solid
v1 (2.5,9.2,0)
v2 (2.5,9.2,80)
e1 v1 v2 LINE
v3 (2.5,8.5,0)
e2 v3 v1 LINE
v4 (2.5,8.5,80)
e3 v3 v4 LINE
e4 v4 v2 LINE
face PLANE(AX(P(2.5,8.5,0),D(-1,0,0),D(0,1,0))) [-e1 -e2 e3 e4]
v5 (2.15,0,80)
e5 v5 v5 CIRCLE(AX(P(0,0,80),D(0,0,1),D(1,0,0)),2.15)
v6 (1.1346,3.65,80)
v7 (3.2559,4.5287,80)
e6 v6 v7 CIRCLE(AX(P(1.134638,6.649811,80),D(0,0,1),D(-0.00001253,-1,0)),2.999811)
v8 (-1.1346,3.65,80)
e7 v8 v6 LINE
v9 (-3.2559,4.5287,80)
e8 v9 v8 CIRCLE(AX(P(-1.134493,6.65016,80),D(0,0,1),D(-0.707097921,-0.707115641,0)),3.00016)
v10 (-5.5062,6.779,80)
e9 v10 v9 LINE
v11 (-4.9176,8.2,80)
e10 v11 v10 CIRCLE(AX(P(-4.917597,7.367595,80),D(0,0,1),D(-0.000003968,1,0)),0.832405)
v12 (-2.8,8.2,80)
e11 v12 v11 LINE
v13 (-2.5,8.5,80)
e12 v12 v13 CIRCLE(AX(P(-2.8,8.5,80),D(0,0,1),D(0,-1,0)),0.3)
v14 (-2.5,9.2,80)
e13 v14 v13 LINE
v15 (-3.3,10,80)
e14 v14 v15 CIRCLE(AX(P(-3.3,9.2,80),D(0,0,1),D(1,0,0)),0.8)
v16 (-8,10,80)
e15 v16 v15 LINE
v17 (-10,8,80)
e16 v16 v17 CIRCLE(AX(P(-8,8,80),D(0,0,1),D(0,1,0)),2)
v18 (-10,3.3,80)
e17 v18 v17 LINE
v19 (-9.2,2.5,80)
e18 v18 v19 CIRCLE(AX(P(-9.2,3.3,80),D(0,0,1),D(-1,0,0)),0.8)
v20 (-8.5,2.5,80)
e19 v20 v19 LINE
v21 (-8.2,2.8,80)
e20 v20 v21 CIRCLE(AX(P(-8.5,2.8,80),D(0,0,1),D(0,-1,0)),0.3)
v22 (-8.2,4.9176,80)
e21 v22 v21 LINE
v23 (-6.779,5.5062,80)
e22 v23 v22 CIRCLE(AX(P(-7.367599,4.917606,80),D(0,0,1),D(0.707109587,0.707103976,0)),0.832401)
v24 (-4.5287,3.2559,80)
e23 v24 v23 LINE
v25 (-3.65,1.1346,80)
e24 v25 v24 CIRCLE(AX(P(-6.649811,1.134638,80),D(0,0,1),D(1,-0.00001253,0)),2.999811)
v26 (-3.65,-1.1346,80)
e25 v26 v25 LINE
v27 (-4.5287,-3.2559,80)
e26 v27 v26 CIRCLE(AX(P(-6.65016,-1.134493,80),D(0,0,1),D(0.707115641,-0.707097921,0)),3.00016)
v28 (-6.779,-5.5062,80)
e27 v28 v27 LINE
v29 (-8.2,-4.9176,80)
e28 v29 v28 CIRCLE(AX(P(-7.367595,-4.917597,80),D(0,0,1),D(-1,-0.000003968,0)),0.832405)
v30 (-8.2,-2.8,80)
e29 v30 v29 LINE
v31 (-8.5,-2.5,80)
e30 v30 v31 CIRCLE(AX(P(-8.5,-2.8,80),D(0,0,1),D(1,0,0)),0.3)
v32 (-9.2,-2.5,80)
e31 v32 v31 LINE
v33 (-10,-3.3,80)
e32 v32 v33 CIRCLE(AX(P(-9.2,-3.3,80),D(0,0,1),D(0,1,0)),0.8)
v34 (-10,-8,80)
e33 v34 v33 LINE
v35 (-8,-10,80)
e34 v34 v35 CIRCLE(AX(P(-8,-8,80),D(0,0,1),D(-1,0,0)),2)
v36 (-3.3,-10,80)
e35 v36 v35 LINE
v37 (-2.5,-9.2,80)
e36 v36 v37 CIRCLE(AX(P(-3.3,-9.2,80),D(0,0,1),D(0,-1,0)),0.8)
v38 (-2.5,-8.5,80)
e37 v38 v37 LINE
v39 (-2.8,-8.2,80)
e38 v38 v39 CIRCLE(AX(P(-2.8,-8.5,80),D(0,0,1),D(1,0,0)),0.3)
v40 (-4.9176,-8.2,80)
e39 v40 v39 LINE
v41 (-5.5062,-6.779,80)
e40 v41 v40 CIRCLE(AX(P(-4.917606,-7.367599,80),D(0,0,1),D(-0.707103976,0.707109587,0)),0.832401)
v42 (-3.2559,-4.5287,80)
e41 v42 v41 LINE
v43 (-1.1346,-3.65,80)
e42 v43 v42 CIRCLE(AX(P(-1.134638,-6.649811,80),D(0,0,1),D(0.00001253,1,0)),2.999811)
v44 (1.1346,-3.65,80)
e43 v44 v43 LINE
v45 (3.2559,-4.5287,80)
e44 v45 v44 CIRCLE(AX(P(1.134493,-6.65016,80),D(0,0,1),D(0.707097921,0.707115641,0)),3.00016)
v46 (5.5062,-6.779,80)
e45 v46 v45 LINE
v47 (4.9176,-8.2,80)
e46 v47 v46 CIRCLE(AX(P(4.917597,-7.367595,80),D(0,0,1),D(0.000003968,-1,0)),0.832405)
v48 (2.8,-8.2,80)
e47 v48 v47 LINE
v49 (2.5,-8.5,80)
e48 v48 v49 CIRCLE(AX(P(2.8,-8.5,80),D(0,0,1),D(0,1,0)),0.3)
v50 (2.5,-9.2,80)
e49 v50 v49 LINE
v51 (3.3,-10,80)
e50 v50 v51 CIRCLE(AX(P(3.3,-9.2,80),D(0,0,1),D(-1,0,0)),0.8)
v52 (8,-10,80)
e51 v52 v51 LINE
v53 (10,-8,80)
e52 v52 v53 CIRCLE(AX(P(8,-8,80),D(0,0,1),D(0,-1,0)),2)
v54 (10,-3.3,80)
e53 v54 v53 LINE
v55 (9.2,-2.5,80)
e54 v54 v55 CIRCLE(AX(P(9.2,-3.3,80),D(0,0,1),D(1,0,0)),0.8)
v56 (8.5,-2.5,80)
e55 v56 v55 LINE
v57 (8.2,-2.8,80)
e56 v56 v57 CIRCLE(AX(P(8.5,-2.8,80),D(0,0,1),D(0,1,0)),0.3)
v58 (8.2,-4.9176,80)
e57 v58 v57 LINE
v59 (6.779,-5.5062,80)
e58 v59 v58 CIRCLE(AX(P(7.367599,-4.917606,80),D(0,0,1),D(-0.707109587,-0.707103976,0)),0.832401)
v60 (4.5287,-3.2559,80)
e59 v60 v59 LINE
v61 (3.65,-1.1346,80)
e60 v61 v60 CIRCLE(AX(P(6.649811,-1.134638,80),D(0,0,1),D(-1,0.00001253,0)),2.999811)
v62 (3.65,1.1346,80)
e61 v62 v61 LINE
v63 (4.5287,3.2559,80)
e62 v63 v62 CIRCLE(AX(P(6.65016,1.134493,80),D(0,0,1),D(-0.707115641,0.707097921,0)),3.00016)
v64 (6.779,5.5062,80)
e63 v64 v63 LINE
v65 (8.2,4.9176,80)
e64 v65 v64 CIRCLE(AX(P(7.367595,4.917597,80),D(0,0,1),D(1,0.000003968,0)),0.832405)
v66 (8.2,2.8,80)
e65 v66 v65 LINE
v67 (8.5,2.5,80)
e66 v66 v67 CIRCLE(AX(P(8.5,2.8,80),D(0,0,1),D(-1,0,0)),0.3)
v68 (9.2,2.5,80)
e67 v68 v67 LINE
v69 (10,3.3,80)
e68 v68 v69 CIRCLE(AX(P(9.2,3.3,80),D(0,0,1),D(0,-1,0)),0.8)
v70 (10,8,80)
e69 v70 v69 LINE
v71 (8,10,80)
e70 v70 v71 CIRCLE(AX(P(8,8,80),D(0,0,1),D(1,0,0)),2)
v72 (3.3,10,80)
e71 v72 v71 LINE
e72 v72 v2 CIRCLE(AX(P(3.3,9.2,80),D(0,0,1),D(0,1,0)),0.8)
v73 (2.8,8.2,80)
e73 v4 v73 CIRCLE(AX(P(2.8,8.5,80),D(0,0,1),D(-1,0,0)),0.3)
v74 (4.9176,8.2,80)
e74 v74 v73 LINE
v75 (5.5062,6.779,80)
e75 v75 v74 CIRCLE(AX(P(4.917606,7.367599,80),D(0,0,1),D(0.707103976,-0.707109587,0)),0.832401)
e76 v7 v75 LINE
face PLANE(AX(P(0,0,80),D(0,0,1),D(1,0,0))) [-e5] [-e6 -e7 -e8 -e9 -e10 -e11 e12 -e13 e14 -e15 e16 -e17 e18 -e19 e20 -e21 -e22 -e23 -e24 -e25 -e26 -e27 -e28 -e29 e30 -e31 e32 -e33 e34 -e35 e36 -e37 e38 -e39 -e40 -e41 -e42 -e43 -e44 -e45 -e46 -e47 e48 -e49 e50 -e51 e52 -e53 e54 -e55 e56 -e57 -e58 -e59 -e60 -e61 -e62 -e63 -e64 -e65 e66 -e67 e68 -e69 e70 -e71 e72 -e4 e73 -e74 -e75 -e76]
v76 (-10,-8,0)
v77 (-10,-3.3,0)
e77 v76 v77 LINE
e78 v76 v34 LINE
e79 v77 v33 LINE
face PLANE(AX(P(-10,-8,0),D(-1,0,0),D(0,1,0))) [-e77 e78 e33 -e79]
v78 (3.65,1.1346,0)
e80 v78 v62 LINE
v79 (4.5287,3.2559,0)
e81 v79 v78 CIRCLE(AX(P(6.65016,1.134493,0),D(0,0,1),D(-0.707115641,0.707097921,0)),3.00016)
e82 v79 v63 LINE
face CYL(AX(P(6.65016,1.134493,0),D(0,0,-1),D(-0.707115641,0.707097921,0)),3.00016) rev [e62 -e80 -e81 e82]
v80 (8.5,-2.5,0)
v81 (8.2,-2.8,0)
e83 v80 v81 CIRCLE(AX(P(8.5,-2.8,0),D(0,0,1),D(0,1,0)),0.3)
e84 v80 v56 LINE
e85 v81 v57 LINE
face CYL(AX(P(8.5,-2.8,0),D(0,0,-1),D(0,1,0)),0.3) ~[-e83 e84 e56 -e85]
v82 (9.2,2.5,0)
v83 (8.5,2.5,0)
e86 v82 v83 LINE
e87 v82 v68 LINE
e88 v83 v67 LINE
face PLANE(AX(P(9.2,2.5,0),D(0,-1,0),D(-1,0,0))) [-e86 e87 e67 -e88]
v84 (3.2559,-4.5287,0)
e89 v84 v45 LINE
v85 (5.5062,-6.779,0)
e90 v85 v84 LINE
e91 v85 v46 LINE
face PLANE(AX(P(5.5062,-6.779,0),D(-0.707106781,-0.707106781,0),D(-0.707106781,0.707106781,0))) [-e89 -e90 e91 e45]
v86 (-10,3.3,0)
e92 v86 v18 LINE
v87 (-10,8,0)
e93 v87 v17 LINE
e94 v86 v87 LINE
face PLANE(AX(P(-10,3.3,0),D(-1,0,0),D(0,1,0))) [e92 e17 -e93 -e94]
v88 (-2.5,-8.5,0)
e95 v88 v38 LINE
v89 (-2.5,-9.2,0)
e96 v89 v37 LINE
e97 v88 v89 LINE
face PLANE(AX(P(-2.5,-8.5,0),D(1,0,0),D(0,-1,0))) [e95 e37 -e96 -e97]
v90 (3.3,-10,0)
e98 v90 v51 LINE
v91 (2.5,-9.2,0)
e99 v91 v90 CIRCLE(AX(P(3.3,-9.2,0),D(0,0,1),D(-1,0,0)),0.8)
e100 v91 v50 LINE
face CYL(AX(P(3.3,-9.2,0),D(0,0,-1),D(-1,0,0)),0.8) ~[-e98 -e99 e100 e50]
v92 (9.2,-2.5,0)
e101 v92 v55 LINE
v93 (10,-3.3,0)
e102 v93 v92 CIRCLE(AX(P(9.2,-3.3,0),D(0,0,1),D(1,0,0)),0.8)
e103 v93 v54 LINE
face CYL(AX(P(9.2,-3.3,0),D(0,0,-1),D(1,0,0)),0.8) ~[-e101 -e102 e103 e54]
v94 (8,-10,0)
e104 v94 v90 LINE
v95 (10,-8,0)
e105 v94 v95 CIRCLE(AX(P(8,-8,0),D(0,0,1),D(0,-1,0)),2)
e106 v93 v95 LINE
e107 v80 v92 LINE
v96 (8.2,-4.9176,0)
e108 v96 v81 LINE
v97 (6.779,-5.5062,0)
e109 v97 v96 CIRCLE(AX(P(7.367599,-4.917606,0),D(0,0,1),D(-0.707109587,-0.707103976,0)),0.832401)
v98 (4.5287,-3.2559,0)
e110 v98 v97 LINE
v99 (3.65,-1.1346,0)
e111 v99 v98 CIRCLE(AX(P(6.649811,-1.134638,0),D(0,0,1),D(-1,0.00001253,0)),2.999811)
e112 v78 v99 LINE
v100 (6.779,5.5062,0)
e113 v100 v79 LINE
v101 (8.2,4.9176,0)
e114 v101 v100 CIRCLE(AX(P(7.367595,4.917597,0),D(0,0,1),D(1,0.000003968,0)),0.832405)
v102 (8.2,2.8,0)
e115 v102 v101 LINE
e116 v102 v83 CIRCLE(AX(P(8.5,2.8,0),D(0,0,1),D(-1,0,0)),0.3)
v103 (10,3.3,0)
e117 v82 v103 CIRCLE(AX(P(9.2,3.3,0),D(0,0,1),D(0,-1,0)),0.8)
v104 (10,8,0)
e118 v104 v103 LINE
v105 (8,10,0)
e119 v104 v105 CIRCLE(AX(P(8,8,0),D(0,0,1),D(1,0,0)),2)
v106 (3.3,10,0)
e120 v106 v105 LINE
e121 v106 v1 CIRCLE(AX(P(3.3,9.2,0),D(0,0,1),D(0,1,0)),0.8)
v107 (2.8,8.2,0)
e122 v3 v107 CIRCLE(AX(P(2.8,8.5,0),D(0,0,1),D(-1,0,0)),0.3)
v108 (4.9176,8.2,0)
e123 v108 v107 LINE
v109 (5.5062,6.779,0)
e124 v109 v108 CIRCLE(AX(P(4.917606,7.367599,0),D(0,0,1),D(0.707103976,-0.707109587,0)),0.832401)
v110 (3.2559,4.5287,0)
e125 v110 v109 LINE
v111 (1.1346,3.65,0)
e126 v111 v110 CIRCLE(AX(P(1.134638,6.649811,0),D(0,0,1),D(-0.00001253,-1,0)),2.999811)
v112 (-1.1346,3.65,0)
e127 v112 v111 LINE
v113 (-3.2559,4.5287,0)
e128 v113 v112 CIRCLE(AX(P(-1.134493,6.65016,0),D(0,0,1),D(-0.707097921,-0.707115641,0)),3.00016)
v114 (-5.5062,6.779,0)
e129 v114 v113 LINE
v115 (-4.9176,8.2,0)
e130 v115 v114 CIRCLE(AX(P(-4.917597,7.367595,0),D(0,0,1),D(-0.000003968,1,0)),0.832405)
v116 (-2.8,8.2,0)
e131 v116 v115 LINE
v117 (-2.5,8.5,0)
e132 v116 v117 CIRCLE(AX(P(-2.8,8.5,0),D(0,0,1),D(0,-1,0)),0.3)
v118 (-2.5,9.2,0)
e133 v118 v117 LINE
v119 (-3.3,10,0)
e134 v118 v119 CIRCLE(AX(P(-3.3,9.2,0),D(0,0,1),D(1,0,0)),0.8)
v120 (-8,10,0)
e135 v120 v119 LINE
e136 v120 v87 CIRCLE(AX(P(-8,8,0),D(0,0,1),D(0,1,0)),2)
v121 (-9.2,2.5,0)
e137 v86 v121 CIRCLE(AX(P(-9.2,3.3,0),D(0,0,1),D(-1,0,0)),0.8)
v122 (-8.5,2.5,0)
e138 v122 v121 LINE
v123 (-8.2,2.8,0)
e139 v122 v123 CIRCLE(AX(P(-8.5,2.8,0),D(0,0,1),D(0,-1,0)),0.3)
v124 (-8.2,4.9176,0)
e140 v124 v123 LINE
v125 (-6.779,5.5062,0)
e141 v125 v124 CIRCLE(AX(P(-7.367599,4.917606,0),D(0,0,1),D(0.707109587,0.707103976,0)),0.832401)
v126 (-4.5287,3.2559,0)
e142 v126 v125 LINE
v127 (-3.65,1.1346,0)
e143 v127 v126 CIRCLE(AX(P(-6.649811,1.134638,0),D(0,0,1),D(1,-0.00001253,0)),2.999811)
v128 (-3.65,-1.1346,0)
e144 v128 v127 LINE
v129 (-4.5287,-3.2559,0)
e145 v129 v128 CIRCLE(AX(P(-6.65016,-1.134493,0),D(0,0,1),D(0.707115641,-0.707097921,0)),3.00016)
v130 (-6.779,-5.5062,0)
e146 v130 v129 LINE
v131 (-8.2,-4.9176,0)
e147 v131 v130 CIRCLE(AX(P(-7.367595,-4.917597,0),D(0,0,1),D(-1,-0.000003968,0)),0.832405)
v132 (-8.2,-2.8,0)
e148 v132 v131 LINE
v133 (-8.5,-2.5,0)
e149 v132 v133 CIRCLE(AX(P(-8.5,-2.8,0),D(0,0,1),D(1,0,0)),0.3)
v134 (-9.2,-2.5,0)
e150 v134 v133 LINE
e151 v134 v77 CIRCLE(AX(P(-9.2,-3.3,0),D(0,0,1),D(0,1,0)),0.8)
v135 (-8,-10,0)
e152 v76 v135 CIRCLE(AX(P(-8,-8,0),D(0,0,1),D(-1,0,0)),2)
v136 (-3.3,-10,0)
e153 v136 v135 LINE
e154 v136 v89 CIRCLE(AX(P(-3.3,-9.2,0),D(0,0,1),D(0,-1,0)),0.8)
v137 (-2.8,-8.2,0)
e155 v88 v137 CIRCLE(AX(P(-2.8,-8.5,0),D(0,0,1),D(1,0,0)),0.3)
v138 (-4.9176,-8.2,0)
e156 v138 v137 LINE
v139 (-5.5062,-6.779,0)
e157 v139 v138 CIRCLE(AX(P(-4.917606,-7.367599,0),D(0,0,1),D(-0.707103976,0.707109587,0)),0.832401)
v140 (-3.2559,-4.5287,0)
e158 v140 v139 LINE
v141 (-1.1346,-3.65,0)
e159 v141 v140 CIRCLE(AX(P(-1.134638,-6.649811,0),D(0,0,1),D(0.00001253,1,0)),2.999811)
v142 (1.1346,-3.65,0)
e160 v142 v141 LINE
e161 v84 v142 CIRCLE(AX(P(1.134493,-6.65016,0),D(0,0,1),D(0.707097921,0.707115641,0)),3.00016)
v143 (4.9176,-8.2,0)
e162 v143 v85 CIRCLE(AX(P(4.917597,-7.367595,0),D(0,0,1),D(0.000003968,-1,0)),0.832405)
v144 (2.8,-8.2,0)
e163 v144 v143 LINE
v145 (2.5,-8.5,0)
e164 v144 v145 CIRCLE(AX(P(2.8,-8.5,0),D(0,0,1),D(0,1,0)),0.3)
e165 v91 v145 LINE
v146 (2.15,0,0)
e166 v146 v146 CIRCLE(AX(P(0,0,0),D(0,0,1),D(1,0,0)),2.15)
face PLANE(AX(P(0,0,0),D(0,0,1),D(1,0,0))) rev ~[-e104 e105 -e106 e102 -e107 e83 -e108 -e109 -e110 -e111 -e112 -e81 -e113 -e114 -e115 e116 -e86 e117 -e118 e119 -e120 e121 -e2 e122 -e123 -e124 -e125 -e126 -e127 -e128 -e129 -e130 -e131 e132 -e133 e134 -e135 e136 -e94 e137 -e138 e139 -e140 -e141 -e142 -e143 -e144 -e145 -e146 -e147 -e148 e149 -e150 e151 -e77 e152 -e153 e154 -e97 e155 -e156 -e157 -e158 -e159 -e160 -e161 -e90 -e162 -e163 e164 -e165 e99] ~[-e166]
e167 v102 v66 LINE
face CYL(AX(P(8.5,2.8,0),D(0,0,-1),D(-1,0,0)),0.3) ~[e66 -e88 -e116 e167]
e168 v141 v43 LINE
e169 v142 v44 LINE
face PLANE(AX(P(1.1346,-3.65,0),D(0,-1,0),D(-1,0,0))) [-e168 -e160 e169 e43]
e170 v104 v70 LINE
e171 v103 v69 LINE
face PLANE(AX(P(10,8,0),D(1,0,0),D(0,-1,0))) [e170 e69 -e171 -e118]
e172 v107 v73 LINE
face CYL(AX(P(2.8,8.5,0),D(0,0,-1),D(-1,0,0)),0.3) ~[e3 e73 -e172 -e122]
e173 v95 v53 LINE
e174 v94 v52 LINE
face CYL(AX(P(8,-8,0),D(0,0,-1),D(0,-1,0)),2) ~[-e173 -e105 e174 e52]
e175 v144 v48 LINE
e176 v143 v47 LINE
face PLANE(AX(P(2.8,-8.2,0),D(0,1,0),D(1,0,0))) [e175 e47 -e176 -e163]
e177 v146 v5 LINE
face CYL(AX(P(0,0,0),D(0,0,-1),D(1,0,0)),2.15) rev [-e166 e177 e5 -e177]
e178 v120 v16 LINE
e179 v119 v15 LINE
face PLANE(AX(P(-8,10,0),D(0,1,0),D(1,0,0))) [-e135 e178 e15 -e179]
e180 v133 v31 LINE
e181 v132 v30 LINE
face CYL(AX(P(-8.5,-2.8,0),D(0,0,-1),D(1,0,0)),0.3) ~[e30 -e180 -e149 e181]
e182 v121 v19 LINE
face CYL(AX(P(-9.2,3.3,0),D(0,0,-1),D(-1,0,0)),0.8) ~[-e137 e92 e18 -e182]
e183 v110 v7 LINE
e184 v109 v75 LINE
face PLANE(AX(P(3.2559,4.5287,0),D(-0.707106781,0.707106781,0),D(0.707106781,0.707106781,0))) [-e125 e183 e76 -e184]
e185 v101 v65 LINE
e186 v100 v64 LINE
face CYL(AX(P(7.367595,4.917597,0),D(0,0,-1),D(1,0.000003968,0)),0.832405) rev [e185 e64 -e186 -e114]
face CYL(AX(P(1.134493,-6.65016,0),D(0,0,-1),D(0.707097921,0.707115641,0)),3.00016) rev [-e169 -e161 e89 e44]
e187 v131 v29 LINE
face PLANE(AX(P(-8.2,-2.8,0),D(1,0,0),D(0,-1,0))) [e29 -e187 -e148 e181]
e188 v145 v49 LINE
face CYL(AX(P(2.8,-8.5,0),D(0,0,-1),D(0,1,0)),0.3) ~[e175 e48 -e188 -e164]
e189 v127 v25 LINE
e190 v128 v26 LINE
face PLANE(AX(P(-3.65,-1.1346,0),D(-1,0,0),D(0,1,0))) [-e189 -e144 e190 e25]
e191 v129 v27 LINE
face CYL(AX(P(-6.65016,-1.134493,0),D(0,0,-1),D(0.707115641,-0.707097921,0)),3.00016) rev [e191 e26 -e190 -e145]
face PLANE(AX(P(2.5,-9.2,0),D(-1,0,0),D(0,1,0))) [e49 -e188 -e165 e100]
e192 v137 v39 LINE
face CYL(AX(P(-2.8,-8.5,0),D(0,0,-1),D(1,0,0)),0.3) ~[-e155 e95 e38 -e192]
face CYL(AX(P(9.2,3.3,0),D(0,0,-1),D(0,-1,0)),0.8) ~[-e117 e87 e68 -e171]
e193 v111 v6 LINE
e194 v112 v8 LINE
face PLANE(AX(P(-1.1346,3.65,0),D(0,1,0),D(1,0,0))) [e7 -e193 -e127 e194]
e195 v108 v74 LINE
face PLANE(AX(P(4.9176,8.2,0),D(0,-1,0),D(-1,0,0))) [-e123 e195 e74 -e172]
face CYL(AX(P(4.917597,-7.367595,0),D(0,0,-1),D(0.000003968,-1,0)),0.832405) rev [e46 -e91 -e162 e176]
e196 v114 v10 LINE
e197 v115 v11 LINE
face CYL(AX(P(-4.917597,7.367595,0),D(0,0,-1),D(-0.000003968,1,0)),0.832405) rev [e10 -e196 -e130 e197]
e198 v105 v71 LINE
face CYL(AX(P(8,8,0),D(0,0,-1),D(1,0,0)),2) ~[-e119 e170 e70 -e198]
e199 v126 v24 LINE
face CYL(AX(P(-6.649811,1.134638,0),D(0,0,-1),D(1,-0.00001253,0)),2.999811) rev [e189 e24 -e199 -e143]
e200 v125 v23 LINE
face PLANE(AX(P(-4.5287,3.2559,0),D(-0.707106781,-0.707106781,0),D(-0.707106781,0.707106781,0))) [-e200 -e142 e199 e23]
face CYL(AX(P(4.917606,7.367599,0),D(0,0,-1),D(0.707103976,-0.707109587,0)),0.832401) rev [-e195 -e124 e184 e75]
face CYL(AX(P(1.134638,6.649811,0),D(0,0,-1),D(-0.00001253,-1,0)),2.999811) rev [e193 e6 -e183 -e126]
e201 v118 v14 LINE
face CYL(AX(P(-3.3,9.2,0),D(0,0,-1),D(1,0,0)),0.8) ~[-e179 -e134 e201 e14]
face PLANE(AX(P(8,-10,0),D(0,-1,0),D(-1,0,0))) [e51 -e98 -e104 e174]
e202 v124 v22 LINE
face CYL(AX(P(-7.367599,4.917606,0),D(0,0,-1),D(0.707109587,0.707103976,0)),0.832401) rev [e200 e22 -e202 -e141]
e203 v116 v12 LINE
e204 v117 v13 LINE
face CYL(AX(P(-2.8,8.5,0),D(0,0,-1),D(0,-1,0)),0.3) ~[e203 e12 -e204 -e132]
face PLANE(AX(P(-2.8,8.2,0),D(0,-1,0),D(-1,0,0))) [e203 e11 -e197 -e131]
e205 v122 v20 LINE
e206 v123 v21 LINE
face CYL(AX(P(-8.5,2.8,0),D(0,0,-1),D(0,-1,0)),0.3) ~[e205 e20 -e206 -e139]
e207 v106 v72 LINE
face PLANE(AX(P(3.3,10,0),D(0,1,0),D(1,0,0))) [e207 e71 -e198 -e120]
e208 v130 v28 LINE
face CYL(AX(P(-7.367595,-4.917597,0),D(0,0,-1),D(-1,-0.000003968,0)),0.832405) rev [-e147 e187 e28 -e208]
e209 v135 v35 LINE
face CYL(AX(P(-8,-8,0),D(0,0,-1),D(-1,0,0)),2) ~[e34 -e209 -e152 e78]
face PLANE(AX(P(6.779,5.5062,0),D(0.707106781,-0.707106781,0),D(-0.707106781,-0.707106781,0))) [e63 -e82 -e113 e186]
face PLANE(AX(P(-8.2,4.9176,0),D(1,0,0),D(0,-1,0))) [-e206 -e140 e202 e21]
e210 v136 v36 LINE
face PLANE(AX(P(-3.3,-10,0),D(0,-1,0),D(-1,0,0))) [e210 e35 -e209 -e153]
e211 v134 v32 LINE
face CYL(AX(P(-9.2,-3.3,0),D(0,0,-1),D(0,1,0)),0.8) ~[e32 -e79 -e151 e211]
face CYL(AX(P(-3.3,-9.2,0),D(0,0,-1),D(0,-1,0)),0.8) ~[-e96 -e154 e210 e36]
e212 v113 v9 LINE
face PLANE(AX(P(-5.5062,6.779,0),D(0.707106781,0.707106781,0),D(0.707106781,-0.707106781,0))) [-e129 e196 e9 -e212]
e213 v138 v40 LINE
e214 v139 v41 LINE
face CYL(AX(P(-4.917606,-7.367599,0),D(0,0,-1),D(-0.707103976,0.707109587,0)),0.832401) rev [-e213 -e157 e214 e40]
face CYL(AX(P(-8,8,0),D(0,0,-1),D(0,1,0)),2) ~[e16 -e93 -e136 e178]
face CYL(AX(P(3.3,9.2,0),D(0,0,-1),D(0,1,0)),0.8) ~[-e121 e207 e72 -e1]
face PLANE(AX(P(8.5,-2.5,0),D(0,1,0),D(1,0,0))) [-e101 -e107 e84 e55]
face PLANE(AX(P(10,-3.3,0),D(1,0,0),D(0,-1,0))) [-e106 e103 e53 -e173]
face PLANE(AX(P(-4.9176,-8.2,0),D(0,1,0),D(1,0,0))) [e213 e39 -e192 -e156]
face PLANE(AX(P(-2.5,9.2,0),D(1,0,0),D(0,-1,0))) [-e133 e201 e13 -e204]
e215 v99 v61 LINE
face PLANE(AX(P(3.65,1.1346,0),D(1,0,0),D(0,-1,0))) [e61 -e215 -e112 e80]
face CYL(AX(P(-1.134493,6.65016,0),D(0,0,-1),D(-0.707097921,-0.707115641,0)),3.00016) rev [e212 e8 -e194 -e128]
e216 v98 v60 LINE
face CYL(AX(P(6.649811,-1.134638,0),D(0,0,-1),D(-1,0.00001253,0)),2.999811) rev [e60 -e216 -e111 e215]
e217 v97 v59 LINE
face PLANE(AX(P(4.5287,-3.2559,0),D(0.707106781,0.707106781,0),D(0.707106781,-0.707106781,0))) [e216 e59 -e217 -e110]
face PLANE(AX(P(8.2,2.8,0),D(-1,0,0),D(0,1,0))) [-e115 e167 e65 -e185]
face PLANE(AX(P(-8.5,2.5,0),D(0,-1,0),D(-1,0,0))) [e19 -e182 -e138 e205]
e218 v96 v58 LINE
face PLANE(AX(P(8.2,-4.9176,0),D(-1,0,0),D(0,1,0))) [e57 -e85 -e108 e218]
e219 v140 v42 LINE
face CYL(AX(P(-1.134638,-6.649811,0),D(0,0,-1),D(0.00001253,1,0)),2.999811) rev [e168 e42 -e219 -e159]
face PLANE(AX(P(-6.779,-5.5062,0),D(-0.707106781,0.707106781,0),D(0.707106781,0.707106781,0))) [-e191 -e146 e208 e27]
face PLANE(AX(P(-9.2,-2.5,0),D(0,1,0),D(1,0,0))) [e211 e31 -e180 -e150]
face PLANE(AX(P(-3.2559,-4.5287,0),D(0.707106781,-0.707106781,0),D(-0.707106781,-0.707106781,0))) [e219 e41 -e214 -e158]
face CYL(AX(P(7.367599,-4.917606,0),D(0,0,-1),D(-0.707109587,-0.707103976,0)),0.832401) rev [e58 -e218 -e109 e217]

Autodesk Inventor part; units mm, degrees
ref_plane "YZ Plane" through (0, 0, 0) normal (1, 0, 0) x (0, 1, 0)
ref_plane "Startebene" through (0, 0, 0) normal (0, 0, 1) x (1, 0, 0)
ref_plane "Endebene" through (0, 0, 80) normal (0, 0, 1) x (1, 0, 0)
sketch "Skizze" plane through (0, 0, 0) normal (0, 0, 1) x (1, 0, 0)
  arc A0 (-4.5287, -3.2559) -> (-3.65, -1.1346) centre (-6.65, -1.1346) ccw
  line L0 (-3.65, -1.1346) -> (-3.65, 1.1346)
  circle A1 centre (0, 0) radius 2.15
  line L1 (1.1346, -3.65) -> (-1.1346, -3.65)
  arc A2 (-1.1346, -3.65) -> (-3.2559, -4.5287) centre (-1.1346, -6.65) ccw
  line L2 (-6.779, -5.5062) -> (-4.5287, -3.2559)
  line L3 (-3.2559, -4.5287) -> (-5.5062, -6.779)
  arc A3 (-2.5, -8.5) -> (-2.8, -8.2) centre (-2.8, -8.5) ccw
  line L4 (-2.5, -8.5) -> (-2.5, -9.2)
  line L5 (-4.9176, -8.2) -> (-2.8, -8.2)
  arc A4 (-5.5062, -6.779) -> (-4.9176, -8.2) centre (-4.9176, -7.3676) ccw
  arc A5 (-3.3, -10) -> (-2.5, -9.2) centre (-3.3, -9.2) ccw
  line L6 (-3.3, -10) -> (-8, -10)
  line L7 (10, -3.3) -> (10, -8)
  line L8 (5.5062, -6.779) -> (3.2559, -4.5287)
  arc A6 (6.779, -5.5062) -> (8.2, -4.9176) centre (7.3676, -4.9176) ccw
  arc A7 (3.2559, -4.5287) -> (1.1346, -3.65) centre (1.1346, -6.65) ccw
  line L9 (4.5287, -3.2559) -> (6.779, -5.5062)
  arc A8 (3.65, -1.1346) -> (4.5287, -3.2559) centre (6.65, -1.1346) ccw
  arc A9 (8.5, -2.5) -> (8.2, -2.8) centre (8.5, -2.8) ccw
  line L10 (3.65, 1.1346) -> (3.65, -1.1346)
  line L11 (8.5, -2.5) -> (9.2, -2.5)
  arc A10 (10, -3.3) -> (9.2, -2.5) centre (9.2, -3.3) ccw
  line L12 (8.2, -4.9176) -> (8.2, -2.8)
  line L13 (2.5, 8.5) -> (2.5, 9.2)
  arc A11 (2.5, 8.5) -> (2.8, 8.2) centre (2.8, 8.5) ccw
  arc A12 (1.1346, 3.65) -> (3.2559, 4.5287) centre (1.1346, 6.65) ccw
  line L14 (-1.1346, 3.65) -> (1.1346, 3.65)
  arc A13 (3.3, 10) -> (2.5, 9.2) centre (3.3, 9.2) ccw
  line L15 (4.9176, 8.2) -> (2.8, 8.2)
  arc A14 (4.5287, 3.2559) -> (3.65, 1.1346) centre (6.65, 1.1346) ccw
  line L16 (3.2559, 4.5287) -> (5.5062, 6.779)
  arc A15 (5.5062, 6.779) -> (4.9176, 8.2) centre (4.9176, 7.3676) ccw
  line L17 (6.779, 5.5062) -> (4.5287, 3.2559)
  line L18 (3.3, 10) -> (8, 10)
  arc A16 (10, 8) -> (8, 10) centre (8, 8) ccw
  line L19 (8.2, 2.8) -> (8.2, 4.9176)
  line L20 (10, 8) -> (10, 3.3)
  arc A17 (8.2, 4.9176) -> (6.779, 5.5062) centre (7.3676, 4.9176) ccw
  line L21 (-2.8, 8.2) -> (-4.9176, 8.2)
  line L22 (-2.5, 9.2) -> (-2.5, 8.5)
  arc A18 (-2.5, 9.2) -> (-3.3, 10) centre (-3.3, 9.2) ccw
  arc A19 (-2.8, 8.2) -> (-2.5, 8.5) centre (-2.8, 8.5) ccw
  arc A20 (-3.65, 1.1346) -> (-4.5287, 3.2559) centre (-6.65, 1.1346) ccw
  arc A21 (-3.2559, 4.5287) -> (-1.1346, 3.65) centre (-1.1346, 6.65) ccw
  arc A22 (4.9176, -8.2) -> (5.5062, -6.779) centre (4.9176, -7.3676) ccw
  arc A23 (8, -10) -> (10, -8) centre (8, -8) ccw
  line L23 (2.8, -8.2) -> (4.9176, -8.2)
  line L24 (8, -10) -> (3.3, -10)
  arc A24 (2.8, -8.2) -> (2.5, -8.5) centre (2.8, -8.5) ccw
  arc A25 (2.5, -9.2) -> (3.3, -10) centre (3.3, -9.2) ccw
  line L25 (2.5, -9.2) -> (2.5, -8.5)
  arc A26 (8.2, 2.8) -> (8.5, 2.5) centre (8.5, 2.8) ccw
  line L26 (9.2, 2.5) -> (8.5, 2.5)
  arc A27 (9.2, 2.5) -> (10, 3.3) centre (9.2, 3.3) ccw
  arc A28 (-4.9176, 8.2) -> (-5.5062, 6.779) centre (-4.9176, 7.3676) ccw
  line L27 (-8, 10) -> (-3.3, 10)
  line L28 (-5.5062, 6.779) -> (-3.2559, 4.5287)
  arc A29 (-8, 10) -> (-10, 8) centre (-8, 8) ccw
  arc A30 (-6.779, 5.5062) -> (-8.2, 4.9176) centre (-7.3676, 4.9176) ccw
  line L29 (-10, 3.3) -> (-10, 8)
  line L30 (-8.2, 4.9176) -> (-8.2, 2.8)
  arc A31 (-8.5, 2.5) -> (-8.2, 2.8) centre (-8.5, 2.8) ccw
  line L31 (-8.5, 2.5) -> (-9.2, 2.5)
  arc A32 (-10, 3.3) -> (-9.2, 2.5) centre (-9.2, 3.3) ccw
  line L32 (-4.5287, 3.2559) -> (-6.779, 5.5062)
  line L33 (-10, -8) -> (-10, -3.3)
  arc A33 (-8.2, -4.9176) -> (-6.779, -5.5062) centre (-7.3676, -4.9176) ccw
  arc A34 (-10, -8) -> (-8, -10) centre (-8, -8) ccw
  line L34 (-10, -8) -> (-10, -3.3)
  arc A35 (-8.2, -2.8) -> (-8.5, -2.5) centre (-8.5, -2.8) ccw
  line L35 (-9.2, -2.5) -> (-8.5, -2.5)
  arc A36 (-9.2, -2.5) -> (-10, -3.3) centre (-9.2, -3.3) ccw
  line L36 (-8.2, -2.8) -> (-8.2, -4.9176)
  dimension "d4" = 4.3
  dimension "d5" = 6.35
  dimension "d6" = 10
  dimension "d7" = 2.5
  dimension "d8" = 5.8
  dimension "d9" = 10.5
  dimension "d10" = 3
  dimension "d11" = 7.5
  dimension "d12" = 12.5
  dimension "d13" = 13.65
  dimension "d14" = 5.7
  dimension "d15" = 10.7
  dimension "d16" = 1.15
  dimension "d17" = 6.15
  dimension "d18" = 1.8
  dimension "d19" = 0.8
  dimension "d20" = 0.3
  dimension "d21" = 2
  dimension "d22" = 0.8324
  dimension "d23" = 45
  dimension "d24" = 90
  dimension "d25" = 90
  dimension "d26" = 1.8
  dimension "d27" = 18.2
  dimension "d28" = 20
  dimension "d29" = 5
  dimension "d30" = 7.5
  dimension "d31" = 1.8
  dimension "d32" = 0.9
  dimension "d33" = 0.9
  dimension "d34" = 20
extrude "Körper" add sketch "Skizze" along normal up to surface (80 mm away) from surface at 0
sketch "Skizze6" plane through (0, 0, 0) normal (0, 0, 1) x (1, 0, 0)
  line L0 (0, 0) -> (10, 0)
ref_plane "Arbeitsebene4" through (0, 0, 0) normal (0, -1, 0) x (1, 0, 0)
sketch "Skizze7" plane through (0, 0, 0) normal (0, -1, 0) x (1, 0, 0)
  line L0 (-2, 0) -> (12, 0)
  line L1 (-2, 80) -> (12, 80)
  dimension "d43" = 80
equation "\"G_OFFSET_START\" = 0"
equation "\"G_OFFSET_END\" = 0"
equation "\"G_L\" = d43"
properties part number "BT001_trajan20_22"
